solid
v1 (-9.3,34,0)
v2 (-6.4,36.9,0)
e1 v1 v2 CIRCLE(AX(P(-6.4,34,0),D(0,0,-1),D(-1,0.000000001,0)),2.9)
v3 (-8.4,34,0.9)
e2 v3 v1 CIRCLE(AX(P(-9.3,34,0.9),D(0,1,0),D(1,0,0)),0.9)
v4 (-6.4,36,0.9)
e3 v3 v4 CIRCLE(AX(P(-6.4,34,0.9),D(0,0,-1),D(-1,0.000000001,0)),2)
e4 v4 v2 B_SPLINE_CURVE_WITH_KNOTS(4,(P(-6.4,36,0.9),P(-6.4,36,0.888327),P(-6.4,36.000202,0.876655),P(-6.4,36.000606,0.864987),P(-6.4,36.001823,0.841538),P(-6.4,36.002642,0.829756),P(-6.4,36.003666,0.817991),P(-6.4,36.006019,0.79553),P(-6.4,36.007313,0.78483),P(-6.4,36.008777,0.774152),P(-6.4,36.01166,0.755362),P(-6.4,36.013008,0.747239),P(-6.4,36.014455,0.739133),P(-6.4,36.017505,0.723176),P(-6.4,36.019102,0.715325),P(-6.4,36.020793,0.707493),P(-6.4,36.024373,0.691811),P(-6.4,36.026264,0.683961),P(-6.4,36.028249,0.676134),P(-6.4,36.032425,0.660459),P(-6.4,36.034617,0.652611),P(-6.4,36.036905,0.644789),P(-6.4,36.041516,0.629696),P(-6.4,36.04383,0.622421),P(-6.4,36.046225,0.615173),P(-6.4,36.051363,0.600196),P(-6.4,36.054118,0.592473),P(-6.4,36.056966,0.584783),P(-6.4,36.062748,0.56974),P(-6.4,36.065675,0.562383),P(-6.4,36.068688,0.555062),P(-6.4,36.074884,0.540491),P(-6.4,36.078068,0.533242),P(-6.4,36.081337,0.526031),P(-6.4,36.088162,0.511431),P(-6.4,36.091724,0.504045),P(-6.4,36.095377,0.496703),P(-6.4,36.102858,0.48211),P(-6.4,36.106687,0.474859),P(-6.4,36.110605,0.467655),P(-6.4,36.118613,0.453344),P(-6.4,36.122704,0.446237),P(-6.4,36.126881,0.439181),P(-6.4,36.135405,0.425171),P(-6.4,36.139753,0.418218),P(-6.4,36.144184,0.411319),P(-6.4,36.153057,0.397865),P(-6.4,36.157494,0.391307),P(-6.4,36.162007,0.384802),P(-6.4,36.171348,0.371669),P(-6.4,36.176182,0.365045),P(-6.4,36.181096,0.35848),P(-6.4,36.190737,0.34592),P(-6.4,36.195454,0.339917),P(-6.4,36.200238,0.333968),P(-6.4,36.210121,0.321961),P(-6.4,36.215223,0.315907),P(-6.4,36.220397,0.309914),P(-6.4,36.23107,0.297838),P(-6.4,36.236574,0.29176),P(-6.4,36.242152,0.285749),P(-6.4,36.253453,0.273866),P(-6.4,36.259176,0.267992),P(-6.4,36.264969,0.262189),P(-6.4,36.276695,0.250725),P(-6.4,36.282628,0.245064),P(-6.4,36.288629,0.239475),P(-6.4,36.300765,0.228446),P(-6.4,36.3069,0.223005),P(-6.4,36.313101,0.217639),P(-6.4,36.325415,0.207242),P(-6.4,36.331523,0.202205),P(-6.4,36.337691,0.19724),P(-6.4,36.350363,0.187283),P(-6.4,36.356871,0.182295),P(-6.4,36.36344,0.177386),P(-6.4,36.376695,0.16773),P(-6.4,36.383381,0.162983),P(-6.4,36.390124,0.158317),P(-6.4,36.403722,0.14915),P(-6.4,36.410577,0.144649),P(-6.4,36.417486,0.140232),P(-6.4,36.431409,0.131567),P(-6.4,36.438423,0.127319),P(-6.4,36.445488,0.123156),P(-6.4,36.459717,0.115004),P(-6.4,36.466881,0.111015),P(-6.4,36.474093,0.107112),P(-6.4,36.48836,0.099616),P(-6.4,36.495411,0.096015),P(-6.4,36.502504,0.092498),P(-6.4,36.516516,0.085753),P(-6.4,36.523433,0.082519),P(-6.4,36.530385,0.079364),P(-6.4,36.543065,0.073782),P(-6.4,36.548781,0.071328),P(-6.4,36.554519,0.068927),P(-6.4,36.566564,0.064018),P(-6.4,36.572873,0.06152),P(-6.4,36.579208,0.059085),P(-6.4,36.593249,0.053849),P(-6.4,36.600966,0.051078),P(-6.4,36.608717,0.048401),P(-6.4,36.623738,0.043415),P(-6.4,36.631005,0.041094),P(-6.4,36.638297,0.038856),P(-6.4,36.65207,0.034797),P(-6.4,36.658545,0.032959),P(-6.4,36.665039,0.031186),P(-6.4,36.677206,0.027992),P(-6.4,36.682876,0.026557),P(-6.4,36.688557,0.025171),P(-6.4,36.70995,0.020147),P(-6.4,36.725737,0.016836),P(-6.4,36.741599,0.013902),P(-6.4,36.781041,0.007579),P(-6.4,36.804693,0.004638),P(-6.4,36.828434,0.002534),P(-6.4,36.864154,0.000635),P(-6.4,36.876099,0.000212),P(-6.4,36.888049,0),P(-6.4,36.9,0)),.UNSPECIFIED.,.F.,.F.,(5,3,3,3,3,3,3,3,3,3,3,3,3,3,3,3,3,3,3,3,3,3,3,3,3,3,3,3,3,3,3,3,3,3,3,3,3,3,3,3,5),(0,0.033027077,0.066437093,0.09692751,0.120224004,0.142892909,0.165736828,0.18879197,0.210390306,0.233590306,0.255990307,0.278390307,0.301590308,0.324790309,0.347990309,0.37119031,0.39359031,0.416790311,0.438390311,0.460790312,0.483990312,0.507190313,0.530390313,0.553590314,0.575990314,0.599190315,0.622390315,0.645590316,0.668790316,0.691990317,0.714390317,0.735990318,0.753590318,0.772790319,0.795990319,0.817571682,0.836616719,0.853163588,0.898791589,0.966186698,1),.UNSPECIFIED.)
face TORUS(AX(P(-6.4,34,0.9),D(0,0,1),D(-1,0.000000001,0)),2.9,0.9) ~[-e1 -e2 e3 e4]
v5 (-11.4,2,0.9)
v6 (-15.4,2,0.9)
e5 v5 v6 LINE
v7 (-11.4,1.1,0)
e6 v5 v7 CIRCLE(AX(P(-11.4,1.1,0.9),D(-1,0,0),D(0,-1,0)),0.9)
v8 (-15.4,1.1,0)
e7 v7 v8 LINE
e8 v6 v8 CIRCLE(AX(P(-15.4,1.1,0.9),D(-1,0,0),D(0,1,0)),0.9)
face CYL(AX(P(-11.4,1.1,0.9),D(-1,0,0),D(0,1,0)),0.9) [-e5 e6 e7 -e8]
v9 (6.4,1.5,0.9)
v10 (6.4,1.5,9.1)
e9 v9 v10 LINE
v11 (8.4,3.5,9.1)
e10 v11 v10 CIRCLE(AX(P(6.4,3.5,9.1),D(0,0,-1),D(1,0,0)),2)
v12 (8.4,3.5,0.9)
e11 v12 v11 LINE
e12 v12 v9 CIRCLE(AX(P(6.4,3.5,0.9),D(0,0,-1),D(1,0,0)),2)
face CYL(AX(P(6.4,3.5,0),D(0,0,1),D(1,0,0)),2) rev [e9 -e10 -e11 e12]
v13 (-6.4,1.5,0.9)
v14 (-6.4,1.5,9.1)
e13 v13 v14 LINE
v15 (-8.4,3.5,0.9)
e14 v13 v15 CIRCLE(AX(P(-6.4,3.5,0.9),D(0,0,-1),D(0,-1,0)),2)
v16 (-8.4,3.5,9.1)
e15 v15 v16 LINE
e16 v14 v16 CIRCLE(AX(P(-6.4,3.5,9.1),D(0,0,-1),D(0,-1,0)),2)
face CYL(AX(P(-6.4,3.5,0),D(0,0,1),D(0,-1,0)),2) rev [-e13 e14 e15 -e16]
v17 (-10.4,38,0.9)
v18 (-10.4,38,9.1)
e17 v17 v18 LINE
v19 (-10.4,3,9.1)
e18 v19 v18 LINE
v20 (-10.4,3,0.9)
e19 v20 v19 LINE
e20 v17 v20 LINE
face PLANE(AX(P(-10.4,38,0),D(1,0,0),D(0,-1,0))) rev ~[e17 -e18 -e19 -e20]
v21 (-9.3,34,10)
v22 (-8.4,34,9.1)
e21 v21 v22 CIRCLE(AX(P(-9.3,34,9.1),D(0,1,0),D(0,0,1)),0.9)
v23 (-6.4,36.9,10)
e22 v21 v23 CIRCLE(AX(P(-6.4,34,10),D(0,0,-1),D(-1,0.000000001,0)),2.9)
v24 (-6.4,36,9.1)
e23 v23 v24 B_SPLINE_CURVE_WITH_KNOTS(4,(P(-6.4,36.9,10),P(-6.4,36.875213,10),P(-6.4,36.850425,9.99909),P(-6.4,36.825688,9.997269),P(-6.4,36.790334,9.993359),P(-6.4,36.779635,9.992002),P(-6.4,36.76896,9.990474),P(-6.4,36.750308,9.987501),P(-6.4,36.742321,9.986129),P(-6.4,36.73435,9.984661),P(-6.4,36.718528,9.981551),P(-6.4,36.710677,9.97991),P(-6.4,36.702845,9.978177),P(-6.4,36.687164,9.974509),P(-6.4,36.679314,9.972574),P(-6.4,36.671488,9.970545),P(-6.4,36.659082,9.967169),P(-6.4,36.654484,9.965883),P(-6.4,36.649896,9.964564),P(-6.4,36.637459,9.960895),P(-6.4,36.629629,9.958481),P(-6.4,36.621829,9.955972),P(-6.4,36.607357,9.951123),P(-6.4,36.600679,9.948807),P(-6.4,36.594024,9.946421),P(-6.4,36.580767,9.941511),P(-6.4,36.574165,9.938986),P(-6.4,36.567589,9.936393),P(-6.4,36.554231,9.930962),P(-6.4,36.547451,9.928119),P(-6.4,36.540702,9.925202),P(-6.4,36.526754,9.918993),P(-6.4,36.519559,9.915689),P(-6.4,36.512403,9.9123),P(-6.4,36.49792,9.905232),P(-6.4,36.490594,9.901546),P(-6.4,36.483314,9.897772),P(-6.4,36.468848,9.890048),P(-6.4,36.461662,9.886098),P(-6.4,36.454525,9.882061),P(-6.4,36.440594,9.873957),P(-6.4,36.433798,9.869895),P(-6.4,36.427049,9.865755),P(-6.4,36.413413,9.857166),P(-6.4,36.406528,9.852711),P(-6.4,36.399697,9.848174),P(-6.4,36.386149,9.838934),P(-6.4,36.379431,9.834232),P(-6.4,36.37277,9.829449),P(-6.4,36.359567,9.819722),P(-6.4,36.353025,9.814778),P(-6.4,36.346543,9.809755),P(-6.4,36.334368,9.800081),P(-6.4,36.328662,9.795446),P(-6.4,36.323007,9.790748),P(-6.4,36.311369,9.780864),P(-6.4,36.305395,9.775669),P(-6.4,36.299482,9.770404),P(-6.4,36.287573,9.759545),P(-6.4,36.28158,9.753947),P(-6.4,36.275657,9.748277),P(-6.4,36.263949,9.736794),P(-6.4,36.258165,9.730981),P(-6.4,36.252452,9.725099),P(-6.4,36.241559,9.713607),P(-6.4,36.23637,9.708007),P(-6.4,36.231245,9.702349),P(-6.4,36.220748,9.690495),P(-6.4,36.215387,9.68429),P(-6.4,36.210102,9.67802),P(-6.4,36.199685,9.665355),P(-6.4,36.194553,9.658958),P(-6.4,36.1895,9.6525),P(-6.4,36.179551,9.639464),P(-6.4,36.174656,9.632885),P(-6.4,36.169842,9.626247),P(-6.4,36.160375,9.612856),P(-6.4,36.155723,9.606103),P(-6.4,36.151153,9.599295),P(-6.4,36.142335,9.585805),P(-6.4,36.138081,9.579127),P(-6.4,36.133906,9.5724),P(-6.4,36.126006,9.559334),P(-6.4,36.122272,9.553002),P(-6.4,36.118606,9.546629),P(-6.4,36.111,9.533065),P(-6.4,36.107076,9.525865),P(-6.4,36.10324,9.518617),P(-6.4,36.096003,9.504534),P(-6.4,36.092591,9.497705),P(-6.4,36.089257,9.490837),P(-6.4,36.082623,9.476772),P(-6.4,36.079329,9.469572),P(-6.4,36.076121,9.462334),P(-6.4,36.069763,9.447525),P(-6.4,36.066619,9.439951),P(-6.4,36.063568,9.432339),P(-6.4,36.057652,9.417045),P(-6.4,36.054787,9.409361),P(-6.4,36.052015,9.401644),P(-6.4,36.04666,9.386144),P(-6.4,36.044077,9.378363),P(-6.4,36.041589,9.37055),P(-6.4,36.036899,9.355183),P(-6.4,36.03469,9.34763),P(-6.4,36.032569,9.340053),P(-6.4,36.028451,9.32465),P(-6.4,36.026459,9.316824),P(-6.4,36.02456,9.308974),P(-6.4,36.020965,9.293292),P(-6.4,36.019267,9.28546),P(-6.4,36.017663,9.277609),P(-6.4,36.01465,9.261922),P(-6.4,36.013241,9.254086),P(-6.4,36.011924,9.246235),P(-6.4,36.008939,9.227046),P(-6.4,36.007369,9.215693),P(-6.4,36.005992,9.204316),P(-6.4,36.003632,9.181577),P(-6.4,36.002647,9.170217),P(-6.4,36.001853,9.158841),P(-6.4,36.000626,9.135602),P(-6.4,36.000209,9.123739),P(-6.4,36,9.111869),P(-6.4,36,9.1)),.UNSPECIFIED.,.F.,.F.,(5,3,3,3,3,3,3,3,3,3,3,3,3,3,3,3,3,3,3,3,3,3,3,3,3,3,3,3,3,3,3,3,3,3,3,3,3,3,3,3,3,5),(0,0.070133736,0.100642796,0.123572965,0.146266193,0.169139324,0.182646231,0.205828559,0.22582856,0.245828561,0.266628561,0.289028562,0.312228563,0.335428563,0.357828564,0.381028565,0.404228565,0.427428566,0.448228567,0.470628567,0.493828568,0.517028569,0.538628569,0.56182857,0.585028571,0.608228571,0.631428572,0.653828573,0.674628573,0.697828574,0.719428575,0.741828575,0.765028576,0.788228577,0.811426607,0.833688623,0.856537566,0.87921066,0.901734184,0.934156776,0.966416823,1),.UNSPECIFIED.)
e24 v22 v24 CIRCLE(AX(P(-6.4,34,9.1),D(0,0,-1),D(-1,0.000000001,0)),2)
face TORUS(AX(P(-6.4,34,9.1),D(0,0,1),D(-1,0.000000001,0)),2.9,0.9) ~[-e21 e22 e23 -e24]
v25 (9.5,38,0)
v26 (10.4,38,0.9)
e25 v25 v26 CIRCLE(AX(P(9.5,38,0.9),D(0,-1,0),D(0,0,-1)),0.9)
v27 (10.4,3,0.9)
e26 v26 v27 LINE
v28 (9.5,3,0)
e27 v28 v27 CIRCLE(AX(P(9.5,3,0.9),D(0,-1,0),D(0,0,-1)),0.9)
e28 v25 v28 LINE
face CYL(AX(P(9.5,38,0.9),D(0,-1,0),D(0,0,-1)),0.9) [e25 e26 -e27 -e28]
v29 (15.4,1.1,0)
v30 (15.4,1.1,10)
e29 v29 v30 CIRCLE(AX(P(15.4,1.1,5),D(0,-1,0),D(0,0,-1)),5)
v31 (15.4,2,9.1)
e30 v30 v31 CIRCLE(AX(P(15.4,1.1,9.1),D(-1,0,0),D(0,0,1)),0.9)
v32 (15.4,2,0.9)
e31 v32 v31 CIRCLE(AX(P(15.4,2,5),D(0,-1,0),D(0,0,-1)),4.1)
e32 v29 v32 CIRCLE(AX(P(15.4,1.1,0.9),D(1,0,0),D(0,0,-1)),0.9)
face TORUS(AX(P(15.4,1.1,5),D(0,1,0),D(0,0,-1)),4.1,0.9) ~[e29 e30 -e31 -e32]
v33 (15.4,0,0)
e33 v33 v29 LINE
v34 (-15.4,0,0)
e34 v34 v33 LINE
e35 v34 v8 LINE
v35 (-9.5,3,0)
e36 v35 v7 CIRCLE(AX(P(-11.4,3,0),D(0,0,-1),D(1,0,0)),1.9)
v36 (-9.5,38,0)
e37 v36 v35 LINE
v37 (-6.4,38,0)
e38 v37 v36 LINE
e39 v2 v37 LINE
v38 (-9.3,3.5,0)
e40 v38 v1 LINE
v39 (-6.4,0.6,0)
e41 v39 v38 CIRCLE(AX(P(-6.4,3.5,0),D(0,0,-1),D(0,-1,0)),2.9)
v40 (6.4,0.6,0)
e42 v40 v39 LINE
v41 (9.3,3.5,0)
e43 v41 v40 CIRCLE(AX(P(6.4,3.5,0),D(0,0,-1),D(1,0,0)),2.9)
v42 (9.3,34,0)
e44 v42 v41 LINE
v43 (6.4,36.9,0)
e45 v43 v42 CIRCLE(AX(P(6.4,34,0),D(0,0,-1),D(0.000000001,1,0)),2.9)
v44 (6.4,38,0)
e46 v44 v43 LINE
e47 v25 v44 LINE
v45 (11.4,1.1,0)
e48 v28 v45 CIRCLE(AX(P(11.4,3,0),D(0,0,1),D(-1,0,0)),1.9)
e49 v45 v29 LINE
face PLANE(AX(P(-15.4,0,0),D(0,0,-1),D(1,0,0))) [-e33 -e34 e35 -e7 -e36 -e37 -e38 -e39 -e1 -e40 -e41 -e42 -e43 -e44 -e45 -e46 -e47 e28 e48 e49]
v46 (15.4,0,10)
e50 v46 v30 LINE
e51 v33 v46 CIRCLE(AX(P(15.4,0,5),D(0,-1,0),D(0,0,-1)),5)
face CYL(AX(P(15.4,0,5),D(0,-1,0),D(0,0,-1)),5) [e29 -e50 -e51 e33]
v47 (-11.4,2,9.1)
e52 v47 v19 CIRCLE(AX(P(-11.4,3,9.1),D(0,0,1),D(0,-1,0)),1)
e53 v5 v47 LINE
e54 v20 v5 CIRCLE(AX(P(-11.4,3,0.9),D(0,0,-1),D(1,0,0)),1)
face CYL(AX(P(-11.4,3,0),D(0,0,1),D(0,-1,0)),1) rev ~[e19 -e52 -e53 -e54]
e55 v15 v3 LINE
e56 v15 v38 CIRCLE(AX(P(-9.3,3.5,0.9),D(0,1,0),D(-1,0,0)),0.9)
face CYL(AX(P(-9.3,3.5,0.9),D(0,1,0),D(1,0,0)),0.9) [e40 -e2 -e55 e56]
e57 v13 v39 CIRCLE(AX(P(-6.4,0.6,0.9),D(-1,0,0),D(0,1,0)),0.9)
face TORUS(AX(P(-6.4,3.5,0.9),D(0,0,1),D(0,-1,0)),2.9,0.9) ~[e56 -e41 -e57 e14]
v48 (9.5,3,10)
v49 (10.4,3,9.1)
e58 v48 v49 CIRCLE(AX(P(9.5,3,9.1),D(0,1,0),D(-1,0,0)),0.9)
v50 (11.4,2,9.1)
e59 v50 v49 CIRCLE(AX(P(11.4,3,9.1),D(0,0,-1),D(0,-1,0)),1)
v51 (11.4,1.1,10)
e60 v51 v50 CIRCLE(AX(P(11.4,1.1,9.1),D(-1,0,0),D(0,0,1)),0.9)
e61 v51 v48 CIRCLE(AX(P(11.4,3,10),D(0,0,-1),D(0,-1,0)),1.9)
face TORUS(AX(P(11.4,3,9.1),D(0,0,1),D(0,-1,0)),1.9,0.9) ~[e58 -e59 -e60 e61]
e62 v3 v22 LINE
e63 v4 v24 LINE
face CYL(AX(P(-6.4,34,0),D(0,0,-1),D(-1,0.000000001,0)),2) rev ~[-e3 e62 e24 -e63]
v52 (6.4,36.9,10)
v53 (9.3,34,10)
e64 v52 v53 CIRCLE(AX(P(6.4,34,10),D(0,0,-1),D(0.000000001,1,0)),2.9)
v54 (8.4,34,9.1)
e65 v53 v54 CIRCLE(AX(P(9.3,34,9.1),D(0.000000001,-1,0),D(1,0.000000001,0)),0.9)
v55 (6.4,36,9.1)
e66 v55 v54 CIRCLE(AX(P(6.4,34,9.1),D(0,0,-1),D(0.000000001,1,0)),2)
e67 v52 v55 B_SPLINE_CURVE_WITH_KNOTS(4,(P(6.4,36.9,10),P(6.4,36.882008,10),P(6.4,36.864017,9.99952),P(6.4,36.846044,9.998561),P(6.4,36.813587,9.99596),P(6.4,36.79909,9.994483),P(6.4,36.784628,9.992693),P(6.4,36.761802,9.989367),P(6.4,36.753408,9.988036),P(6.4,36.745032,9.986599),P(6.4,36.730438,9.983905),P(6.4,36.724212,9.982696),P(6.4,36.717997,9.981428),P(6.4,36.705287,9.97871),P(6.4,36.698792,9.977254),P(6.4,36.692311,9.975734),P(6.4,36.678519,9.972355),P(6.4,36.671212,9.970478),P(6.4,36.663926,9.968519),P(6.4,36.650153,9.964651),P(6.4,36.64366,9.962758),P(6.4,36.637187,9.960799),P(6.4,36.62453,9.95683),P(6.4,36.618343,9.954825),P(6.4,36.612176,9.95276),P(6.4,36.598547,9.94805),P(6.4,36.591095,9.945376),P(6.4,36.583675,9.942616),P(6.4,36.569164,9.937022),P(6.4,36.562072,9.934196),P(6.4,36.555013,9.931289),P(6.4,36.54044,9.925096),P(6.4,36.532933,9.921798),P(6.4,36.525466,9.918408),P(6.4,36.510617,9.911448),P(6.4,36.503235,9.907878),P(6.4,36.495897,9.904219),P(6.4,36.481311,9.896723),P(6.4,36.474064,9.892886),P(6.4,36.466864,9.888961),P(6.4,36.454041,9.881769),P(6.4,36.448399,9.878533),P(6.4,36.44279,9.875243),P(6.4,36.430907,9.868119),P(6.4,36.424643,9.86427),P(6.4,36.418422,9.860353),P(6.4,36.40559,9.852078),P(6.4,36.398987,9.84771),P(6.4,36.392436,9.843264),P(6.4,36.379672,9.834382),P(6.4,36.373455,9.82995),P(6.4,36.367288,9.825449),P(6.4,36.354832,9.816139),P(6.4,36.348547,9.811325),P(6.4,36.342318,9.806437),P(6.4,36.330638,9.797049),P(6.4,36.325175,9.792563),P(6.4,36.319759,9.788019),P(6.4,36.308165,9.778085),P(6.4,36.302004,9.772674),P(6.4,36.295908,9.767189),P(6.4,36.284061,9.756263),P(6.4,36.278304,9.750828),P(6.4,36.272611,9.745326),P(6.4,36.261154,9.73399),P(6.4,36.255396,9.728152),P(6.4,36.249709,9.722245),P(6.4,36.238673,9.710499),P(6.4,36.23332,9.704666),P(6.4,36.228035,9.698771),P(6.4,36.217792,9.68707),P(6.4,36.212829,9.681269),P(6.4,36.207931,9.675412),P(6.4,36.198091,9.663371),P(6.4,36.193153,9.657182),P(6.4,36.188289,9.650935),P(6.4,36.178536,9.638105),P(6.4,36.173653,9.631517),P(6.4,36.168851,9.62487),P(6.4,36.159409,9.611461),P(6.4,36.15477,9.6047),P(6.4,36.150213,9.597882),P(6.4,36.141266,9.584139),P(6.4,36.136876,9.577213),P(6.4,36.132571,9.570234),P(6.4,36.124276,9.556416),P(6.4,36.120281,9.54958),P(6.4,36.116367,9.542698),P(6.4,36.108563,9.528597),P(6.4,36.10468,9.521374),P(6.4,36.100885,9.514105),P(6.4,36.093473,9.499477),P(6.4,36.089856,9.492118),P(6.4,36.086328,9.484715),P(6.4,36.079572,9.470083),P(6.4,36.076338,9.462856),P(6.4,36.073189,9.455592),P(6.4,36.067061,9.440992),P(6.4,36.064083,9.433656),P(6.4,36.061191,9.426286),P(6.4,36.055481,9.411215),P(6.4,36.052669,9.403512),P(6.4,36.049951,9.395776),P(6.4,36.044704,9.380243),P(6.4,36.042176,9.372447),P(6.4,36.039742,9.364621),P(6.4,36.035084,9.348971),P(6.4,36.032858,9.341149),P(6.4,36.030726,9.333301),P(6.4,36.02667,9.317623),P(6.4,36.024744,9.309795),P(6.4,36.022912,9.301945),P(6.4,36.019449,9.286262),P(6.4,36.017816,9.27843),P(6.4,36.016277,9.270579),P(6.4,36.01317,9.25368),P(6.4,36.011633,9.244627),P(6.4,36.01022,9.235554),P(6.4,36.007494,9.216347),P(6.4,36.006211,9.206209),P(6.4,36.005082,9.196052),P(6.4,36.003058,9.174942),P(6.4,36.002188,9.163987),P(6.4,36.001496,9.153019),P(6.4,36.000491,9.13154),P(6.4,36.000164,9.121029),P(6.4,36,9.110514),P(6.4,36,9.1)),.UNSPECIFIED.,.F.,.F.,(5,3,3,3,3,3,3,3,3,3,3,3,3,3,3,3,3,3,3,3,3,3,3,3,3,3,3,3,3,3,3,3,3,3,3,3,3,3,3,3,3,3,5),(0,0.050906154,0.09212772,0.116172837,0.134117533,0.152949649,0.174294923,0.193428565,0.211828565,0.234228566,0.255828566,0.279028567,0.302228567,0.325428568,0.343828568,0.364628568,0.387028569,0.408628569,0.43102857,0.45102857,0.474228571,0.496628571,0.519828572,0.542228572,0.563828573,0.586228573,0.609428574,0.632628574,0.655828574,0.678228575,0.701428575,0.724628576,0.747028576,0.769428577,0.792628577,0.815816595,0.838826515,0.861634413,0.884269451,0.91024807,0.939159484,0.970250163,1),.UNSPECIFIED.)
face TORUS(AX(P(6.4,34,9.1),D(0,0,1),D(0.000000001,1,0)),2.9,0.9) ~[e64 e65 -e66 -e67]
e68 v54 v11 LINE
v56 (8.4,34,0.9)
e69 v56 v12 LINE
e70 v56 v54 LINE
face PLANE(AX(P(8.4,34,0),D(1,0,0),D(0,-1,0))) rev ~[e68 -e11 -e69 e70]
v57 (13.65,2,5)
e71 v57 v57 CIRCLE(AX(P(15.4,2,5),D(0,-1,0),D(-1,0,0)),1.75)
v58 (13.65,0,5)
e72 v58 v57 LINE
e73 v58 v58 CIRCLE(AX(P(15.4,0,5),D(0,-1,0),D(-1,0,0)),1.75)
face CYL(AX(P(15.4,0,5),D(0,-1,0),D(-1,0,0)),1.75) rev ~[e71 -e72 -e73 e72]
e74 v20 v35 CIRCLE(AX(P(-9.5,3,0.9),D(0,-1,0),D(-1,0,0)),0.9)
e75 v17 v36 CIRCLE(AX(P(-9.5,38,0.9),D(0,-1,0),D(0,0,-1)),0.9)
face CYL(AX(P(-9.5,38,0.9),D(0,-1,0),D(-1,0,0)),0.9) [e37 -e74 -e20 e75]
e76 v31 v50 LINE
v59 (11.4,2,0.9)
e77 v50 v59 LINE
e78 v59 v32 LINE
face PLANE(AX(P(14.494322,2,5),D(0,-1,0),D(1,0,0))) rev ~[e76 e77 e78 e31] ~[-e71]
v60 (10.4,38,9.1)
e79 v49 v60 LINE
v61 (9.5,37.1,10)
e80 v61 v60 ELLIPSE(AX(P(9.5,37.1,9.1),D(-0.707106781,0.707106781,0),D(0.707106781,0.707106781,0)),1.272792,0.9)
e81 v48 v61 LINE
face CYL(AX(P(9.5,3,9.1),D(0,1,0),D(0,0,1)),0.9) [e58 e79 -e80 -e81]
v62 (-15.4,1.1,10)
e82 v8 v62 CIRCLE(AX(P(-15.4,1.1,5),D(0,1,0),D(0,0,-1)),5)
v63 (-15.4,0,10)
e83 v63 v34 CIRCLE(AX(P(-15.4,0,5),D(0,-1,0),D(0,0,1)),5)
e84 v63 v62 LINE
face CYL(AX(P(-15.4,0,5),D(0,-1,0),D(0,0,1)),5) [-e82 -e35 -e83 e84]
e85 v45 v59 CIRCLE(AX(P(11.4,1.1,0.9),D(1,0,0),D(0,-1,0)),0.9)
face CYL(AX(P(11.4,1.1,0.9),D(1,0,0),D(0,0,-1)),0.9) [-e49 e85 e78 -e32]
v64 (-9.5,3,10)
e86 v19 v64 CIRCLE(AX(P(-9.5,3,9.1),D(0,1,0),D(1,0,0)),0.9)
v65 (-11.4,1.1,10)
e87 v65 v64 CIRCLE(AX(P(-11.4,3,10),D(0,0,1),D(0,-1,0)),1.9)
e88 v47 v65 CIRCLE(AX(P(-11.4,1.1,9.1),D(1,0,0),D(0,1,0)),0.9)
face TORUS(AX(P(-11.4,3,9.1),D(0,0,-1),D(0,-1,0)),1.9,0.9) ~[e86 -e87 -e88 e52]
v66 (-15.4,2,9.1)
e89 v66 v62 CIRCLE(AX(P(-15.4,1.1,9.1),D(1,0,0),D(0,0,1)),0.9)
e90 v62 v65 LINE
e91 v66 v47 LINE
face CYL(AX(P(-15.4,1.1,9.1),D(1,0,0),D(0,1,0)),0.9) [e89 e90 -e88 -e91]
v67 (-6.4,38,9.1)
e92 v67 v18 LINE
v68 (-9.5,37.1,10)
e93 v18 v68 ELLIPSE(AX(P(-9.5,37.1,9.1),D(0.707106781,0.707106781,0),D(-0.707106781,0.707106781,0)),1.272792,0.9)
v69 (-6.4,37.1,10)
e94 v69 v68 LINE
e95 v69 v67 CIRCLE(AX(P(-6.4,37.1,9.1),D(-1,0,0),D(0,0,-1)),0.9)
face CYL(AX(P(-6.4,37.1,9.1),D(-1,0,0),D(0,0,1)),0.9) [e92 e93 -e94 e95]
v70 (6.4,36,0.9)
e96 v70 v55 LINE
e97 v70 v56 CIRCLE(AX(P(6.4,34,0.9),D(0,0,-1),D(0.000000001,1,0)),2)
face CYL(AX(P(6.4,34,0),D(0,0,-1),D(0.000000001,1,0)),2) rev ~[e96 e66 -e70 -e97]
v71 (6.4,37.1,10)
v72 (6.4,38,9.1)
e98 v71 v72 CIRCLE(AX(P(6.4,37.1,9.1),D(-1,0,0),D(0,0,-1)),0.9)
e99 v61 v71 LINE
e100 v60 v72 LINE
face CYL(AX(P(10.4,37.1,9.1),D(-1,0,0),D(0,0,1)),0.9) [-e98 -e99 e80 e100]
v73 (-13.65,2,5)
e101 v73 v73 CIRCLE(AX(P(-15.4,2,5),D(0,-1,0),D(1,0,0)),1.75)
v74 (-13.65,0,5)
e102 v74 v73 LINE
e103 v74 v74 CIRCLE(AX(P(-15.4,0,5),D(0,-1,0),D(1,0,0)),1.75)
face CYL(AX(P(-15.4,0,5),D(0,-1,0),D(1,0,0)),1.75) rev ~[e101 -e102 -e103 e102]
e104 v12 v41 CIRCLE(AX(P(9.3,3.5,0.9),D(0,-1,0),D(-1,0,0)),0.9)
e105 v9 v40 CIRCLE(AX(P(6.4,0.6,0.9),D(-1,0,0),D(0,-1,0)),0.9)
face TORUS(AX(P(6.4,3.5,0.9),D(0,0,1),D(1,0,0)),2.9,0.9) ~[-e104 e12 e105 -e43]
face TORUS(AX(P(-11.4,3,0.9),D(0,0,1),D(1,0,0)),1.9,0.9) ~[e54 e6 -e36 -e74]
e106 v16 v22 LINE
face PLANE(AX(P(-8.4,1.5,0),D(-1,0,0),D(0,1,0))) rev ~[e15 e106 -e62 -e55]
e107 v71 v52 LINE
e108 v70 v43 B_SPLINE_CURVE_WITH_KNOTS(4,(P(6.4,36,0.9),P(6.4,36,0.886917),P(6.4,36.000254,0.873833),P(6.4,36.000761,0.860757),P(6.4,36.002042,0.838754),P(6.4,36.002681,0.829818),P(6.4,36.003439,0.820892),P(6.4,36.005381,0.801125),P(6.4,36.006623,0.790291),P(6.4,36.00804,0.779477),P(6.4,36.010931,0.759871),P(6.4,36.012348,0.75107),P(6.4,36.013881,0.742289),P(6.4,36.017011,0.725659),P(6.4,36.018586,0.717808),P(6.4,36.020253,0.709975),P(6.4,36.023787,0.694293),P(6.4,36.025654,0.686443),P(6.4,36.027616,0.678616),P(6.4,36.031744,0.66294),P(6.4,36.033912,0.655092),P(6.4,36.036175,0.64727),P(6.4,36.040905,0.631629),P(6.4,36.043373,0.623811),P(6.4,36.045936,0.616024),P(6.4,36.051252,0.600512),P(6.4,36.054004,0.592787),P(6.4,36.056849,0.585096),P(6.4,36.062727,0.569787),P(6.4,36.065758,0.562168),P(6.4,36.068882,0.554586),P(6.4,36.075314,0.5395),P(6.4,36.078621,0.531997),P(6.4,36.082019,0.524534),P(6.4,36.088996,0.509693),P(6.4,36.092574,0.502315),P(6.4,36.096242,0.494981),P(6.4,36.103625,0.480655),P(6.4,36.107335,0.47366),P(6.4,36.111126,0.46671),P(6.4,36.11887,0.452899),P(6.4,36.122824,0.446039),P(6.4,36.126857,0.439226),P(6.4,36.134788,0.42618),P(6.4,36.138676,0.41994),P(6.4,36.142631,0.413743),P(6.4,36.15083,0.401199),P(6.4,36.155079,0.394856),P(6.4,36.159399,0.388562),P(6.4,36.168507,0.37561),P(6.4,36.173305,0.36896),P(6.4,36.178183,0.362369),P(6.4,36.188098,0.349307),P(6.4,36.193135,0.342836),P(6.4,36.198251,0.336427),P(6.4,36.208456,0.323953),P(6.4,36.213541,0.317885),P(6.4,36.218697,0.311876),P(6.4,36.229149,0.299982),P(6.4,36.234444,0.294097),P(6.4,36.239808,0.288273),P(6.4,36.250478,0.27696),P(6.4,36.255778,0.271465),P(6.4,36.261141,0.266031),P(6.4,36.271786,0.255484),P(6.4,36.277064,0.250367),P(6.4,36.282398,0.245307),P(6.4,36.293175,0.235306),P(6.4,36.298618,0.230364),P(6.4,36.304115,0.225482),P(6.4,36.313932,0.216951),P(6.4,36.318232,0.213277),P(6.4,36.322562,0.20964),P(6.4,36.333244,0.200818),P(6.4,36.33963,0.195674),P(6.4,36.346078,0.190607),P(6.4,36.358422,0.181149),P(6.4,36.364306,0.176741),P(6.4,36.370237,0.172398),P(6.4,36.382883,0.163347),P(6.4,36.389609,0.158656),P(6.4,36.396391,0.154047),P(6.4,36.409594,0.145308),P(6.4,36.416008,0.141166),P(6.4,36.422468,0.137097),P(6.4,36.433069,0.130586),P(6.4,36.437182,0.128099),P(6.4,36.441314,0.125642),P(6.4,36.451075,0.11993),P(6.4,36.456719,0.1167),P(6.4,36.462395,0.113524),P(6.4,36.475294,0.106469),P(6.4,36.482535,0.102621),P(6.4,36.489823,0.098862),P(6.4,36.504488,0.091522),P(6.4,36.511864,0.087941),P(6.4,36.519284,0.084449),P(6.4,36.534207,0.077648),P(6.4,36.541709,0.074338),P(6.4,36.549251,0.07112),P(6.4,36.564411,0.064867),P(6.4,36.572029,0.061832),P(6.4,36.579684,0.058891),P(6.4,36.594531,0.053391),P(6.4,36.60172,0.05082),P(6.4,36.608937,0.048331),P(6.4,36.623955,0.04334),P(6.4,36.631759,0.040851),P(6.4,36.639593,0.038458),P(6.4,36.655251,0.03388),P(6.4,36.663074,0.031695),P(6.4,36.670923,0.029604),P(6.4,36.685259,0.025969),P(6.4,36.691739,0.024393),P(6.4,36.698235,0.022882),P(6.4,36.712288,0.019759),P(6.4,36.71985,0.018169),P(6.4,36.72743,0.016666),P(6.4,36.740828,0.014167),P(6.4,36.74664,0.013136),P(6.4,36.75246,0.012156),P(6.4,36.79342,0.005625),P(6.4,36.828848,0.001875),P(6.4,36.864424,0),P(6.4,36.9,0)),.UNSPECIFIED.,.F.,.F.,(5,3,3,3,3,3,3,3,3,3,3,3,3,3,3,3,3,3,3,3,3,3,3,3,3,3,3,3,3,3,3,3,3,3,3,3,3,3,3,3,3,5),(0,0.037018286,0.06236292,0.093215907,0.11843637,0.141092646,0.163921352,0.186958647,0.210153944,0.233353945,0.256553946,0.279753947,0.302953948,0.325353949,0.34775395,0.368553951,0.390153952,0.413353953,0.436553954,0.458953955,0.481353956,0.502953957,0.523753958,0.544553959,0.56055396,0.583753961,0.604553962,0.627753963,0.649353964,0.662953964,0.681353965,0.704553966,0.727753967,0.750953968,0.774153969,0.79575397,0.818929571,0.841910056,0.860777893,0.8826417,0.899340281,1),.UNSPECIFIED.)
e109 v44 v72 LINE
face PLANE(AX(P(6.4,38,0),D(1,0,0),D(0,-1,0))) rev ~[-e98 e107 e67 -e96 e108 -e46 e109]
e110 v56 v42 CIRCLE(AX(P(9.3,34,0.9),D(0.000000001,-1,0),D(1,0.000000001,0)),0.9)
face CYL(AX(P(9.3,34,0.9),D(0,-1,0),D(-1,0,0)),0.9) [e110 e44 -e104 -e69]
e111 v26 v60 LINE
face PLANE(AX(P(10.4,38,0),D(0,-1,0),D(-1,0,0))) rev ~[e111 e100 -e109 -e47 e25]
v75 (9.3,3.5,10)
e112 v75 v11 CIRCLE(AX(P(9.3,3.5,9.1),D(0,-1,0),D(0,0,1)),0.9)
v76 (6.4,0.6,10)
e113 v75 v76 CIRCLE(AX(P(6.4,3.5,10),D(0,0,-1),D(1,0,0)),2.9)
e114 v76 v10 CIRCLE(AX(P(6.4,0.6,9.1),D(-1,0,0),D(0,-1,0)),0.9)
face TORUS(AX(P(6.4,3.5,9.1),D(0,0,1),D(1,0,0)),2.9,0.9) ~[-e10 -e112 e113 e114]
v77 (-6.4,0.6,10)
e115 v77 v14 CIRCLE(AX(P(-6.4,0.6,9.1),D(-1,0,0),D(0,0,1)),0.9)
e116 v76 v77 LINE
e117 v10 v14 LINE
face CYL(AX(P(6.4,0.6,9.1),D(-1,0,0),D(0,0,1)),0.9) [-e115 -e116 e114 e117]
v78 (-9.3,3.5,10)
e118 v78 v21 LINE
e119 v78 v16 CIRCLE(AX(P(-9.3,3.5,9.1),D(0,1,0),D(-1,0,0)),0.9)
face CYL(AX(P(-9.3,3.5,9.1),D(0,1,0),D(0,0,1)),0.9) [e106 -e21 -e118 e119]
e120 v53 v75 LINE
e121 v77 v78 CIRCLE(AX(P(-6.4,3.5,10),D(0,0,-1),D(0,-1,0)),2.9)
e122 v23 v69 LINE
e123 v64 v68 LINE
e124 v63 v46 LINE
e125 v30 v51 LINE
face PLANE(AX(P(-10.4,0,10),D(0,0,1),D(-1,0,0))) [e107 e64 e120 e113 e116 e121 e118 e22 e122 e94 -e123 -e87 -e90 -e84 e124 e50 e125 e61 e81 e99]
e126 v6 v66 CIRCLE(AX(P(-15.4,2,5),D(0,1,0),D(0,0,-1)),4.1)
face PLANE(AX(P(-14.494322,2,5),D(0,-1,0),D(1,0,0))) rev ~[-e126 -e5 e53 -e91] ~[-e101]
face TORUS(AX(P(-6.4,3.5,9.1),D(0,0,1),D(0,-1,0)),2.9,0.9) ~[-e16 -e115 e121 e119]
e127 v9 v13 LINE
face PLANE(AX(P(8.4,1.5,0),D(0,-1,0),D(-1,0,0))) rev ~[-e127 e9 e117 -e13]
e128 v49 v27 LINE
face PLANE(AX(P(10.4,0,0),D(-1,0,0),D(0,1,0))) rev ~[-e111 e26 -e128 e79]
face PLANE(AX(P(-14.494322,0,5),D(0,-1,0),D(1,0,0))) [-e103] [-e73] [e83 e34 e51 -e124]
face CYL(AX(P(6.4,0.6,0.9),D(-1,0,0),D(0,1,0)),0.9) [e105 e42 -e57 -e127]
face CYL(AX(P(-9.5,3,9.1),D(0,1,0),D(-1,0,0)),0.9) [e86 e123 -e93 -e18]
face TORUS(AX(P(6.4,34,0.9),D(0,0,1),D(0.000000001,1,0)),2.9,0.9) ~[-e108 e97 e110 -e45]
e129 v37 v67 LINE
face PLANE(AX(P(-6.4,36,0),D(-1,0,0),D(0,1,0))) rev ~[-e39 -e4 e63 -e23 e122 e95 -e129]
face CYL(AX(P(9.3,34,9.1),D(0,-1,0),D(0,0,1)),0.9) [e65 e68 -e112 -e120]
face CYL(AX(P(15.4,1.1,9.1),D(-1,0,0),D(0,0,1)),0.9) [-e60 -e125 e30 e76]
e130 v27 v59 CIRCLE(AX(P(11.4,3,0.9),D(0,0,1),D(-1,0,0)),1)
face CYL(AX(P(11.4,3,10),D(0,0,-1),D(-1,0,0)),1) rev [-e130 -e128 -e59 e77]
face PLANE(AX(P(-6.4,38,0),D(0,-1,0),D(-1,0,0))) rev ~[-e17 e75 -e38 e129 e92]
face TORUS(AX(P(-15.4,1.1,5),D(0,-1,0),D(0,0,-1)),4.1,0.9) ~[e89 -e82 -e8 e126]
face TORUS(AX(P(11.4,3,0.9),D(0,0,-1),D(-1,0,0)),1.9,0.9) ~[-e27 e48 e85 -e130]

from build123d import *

# Parameters (mm, degrees)
SALIENTE_EXTRUIR1_DEPTH = 10
REDONDEO1_R             = 2
CROQUIS4_R              = 1.75
SALIENTE_EXTRUIR2_DEPTH = 2
REDONDEO3_R             = 1
REDONDEO4_R             = 0.9


with BuildPart() as part:
    # Croquis2 → Saliente-Extruir1 (new body)
    with BuildSketch(Plane.XY):
        with BuildLine():
            Line((-10.4, 0), (10.4, 0))
            Line((10.4, 0), (10.4, 38))
            Line((10.4, 38), (6.4, 38))
            Line((6.4, 38), (6.4, 36))
            ThreePointArc((6.4, 36), (7.814213562, 35.414213562), (8.4, 34))
            Line((8.4, 34), (8.4, 1.5))
            Line((8.4, 1.5), (-8.4, 1.5))
            Line((-8.4, 1.5), (-8.4, 34))
            ThreePointArc((-8.4, 34), (-7.814213562, 35.414213562), (-6.4, 36))
            Line((-6.4, 36), (-6.4, 38))
            Line((-6.4, 38), (-10.4, 38))
            Line((-10.4, 38), (-10.4, 0))
        make_face()
    extrude(amount=SALIENTE_EXTRUIR1_DEPTH)

    # Redondeo1
    redondeo1_edges = [part.edges().sort_by_distance(p)[0] for p in [
        (-8.4, 1.5, 5),
        (8.4, 1.5, 5),
    ]]
    fillet(redondeo1_edges, radius=REDONDEO1_R)

    # Croquis4 → Saliente-Extruir2 (add)
    # profile 1 of 2: a face of its own
    with BuildSketch(Plane.XZ):
        with BuildLine():
            Line((-10.4, 10), (-15.4, 10))
            ThreePointArc((-15.4, 10), (-20.4, 5), (-15.4, 0))
            Line((-15.4, 0), (-10.4, 0))
            Line((-10.4, 0), (-10.4, 10))
        make_face()
        with Locations((-15.4, 5)):
            Circle(CROQUIS4_R, mode=Mode.SUBTRACT)
    # profile 2 of 2: a face of its own
    with BuildSketch(Plane.XZ):
        with BuildLine():
            Line((10.4, 0), (15.4, 0))
            ThreePointArc((15.4, 0), (20.4, 5), (15.4, 10))
            Line((15.4, 10), (10.4, 10))
            Line((10.4, 10), (10.4, 0))
        make_face()
        with Locations(Location((15.4, 5, 0), (0, 0, 180))):
            Circle(CROQUIS4_R, mode=Mode.SUBTRACT)
    extrude(amount=-SALIENTE_EXTRUIR2_DEPTH)

    # Redondeo3
    redondeo3_edges = [part.edges().sort_by_distance(p)[0] for p in [
        (-10.4, 2, 5),
        (10.4, 2, 5),
    ]]
    fillet(redondeo3_edges, radius=REDONDEO3_R)

    # Redondeo4
    redondeo4_edges = [part.edges().sort_by_distance(p)[0] for p in [
        (-10.4, 20.5, 0),
        (-7.814213562, 35.414213562, 0),
        (8.4, 18.75, 0),
        (7.814213562, 35.414213562, 0),
        (7.814213562, 35.414213562, 10),
        (8.4, 18.75, 10),
        (-7.814213562, 35.414213562, 10),
        (0, 1.5, 0),
        (0, 1.5, 10),
        (-8.4, 18.75, 0),
        (-8.4, 18.75, 10),
        (-8.4, 38, 10),
        (7.814213562, 2.085786438, 0),
        (7.814213562, 2.085786438, 10),
        (-7.814213562, 2.085786438, 0),
        (-7.814213562, 2.085786438, 10),
        (-10.4, 20.5, 10),
        (-13.4, 2, 0),
        (-20.4, 2, 5),
        (13.4, 2, 10),
        (20.4, 2, 5),
        (10.4, 20.5, 10),
        (10.4, 20.5, 0),
        (13.4, 2, 0),
        (-13.4, 2, 10),
        (10.692893219, 2.292893219, 0),
        (10.692893219, 2.292893219, 10),
        (-10.692893219, 2.292893219, 10),
        (-10.692893219, 2.292893219, 0),
        (8.4, 38, 10),
    ]]
    fillet(redondeo4_edges, radius=REDONDEO4_R)


solid = part.part
